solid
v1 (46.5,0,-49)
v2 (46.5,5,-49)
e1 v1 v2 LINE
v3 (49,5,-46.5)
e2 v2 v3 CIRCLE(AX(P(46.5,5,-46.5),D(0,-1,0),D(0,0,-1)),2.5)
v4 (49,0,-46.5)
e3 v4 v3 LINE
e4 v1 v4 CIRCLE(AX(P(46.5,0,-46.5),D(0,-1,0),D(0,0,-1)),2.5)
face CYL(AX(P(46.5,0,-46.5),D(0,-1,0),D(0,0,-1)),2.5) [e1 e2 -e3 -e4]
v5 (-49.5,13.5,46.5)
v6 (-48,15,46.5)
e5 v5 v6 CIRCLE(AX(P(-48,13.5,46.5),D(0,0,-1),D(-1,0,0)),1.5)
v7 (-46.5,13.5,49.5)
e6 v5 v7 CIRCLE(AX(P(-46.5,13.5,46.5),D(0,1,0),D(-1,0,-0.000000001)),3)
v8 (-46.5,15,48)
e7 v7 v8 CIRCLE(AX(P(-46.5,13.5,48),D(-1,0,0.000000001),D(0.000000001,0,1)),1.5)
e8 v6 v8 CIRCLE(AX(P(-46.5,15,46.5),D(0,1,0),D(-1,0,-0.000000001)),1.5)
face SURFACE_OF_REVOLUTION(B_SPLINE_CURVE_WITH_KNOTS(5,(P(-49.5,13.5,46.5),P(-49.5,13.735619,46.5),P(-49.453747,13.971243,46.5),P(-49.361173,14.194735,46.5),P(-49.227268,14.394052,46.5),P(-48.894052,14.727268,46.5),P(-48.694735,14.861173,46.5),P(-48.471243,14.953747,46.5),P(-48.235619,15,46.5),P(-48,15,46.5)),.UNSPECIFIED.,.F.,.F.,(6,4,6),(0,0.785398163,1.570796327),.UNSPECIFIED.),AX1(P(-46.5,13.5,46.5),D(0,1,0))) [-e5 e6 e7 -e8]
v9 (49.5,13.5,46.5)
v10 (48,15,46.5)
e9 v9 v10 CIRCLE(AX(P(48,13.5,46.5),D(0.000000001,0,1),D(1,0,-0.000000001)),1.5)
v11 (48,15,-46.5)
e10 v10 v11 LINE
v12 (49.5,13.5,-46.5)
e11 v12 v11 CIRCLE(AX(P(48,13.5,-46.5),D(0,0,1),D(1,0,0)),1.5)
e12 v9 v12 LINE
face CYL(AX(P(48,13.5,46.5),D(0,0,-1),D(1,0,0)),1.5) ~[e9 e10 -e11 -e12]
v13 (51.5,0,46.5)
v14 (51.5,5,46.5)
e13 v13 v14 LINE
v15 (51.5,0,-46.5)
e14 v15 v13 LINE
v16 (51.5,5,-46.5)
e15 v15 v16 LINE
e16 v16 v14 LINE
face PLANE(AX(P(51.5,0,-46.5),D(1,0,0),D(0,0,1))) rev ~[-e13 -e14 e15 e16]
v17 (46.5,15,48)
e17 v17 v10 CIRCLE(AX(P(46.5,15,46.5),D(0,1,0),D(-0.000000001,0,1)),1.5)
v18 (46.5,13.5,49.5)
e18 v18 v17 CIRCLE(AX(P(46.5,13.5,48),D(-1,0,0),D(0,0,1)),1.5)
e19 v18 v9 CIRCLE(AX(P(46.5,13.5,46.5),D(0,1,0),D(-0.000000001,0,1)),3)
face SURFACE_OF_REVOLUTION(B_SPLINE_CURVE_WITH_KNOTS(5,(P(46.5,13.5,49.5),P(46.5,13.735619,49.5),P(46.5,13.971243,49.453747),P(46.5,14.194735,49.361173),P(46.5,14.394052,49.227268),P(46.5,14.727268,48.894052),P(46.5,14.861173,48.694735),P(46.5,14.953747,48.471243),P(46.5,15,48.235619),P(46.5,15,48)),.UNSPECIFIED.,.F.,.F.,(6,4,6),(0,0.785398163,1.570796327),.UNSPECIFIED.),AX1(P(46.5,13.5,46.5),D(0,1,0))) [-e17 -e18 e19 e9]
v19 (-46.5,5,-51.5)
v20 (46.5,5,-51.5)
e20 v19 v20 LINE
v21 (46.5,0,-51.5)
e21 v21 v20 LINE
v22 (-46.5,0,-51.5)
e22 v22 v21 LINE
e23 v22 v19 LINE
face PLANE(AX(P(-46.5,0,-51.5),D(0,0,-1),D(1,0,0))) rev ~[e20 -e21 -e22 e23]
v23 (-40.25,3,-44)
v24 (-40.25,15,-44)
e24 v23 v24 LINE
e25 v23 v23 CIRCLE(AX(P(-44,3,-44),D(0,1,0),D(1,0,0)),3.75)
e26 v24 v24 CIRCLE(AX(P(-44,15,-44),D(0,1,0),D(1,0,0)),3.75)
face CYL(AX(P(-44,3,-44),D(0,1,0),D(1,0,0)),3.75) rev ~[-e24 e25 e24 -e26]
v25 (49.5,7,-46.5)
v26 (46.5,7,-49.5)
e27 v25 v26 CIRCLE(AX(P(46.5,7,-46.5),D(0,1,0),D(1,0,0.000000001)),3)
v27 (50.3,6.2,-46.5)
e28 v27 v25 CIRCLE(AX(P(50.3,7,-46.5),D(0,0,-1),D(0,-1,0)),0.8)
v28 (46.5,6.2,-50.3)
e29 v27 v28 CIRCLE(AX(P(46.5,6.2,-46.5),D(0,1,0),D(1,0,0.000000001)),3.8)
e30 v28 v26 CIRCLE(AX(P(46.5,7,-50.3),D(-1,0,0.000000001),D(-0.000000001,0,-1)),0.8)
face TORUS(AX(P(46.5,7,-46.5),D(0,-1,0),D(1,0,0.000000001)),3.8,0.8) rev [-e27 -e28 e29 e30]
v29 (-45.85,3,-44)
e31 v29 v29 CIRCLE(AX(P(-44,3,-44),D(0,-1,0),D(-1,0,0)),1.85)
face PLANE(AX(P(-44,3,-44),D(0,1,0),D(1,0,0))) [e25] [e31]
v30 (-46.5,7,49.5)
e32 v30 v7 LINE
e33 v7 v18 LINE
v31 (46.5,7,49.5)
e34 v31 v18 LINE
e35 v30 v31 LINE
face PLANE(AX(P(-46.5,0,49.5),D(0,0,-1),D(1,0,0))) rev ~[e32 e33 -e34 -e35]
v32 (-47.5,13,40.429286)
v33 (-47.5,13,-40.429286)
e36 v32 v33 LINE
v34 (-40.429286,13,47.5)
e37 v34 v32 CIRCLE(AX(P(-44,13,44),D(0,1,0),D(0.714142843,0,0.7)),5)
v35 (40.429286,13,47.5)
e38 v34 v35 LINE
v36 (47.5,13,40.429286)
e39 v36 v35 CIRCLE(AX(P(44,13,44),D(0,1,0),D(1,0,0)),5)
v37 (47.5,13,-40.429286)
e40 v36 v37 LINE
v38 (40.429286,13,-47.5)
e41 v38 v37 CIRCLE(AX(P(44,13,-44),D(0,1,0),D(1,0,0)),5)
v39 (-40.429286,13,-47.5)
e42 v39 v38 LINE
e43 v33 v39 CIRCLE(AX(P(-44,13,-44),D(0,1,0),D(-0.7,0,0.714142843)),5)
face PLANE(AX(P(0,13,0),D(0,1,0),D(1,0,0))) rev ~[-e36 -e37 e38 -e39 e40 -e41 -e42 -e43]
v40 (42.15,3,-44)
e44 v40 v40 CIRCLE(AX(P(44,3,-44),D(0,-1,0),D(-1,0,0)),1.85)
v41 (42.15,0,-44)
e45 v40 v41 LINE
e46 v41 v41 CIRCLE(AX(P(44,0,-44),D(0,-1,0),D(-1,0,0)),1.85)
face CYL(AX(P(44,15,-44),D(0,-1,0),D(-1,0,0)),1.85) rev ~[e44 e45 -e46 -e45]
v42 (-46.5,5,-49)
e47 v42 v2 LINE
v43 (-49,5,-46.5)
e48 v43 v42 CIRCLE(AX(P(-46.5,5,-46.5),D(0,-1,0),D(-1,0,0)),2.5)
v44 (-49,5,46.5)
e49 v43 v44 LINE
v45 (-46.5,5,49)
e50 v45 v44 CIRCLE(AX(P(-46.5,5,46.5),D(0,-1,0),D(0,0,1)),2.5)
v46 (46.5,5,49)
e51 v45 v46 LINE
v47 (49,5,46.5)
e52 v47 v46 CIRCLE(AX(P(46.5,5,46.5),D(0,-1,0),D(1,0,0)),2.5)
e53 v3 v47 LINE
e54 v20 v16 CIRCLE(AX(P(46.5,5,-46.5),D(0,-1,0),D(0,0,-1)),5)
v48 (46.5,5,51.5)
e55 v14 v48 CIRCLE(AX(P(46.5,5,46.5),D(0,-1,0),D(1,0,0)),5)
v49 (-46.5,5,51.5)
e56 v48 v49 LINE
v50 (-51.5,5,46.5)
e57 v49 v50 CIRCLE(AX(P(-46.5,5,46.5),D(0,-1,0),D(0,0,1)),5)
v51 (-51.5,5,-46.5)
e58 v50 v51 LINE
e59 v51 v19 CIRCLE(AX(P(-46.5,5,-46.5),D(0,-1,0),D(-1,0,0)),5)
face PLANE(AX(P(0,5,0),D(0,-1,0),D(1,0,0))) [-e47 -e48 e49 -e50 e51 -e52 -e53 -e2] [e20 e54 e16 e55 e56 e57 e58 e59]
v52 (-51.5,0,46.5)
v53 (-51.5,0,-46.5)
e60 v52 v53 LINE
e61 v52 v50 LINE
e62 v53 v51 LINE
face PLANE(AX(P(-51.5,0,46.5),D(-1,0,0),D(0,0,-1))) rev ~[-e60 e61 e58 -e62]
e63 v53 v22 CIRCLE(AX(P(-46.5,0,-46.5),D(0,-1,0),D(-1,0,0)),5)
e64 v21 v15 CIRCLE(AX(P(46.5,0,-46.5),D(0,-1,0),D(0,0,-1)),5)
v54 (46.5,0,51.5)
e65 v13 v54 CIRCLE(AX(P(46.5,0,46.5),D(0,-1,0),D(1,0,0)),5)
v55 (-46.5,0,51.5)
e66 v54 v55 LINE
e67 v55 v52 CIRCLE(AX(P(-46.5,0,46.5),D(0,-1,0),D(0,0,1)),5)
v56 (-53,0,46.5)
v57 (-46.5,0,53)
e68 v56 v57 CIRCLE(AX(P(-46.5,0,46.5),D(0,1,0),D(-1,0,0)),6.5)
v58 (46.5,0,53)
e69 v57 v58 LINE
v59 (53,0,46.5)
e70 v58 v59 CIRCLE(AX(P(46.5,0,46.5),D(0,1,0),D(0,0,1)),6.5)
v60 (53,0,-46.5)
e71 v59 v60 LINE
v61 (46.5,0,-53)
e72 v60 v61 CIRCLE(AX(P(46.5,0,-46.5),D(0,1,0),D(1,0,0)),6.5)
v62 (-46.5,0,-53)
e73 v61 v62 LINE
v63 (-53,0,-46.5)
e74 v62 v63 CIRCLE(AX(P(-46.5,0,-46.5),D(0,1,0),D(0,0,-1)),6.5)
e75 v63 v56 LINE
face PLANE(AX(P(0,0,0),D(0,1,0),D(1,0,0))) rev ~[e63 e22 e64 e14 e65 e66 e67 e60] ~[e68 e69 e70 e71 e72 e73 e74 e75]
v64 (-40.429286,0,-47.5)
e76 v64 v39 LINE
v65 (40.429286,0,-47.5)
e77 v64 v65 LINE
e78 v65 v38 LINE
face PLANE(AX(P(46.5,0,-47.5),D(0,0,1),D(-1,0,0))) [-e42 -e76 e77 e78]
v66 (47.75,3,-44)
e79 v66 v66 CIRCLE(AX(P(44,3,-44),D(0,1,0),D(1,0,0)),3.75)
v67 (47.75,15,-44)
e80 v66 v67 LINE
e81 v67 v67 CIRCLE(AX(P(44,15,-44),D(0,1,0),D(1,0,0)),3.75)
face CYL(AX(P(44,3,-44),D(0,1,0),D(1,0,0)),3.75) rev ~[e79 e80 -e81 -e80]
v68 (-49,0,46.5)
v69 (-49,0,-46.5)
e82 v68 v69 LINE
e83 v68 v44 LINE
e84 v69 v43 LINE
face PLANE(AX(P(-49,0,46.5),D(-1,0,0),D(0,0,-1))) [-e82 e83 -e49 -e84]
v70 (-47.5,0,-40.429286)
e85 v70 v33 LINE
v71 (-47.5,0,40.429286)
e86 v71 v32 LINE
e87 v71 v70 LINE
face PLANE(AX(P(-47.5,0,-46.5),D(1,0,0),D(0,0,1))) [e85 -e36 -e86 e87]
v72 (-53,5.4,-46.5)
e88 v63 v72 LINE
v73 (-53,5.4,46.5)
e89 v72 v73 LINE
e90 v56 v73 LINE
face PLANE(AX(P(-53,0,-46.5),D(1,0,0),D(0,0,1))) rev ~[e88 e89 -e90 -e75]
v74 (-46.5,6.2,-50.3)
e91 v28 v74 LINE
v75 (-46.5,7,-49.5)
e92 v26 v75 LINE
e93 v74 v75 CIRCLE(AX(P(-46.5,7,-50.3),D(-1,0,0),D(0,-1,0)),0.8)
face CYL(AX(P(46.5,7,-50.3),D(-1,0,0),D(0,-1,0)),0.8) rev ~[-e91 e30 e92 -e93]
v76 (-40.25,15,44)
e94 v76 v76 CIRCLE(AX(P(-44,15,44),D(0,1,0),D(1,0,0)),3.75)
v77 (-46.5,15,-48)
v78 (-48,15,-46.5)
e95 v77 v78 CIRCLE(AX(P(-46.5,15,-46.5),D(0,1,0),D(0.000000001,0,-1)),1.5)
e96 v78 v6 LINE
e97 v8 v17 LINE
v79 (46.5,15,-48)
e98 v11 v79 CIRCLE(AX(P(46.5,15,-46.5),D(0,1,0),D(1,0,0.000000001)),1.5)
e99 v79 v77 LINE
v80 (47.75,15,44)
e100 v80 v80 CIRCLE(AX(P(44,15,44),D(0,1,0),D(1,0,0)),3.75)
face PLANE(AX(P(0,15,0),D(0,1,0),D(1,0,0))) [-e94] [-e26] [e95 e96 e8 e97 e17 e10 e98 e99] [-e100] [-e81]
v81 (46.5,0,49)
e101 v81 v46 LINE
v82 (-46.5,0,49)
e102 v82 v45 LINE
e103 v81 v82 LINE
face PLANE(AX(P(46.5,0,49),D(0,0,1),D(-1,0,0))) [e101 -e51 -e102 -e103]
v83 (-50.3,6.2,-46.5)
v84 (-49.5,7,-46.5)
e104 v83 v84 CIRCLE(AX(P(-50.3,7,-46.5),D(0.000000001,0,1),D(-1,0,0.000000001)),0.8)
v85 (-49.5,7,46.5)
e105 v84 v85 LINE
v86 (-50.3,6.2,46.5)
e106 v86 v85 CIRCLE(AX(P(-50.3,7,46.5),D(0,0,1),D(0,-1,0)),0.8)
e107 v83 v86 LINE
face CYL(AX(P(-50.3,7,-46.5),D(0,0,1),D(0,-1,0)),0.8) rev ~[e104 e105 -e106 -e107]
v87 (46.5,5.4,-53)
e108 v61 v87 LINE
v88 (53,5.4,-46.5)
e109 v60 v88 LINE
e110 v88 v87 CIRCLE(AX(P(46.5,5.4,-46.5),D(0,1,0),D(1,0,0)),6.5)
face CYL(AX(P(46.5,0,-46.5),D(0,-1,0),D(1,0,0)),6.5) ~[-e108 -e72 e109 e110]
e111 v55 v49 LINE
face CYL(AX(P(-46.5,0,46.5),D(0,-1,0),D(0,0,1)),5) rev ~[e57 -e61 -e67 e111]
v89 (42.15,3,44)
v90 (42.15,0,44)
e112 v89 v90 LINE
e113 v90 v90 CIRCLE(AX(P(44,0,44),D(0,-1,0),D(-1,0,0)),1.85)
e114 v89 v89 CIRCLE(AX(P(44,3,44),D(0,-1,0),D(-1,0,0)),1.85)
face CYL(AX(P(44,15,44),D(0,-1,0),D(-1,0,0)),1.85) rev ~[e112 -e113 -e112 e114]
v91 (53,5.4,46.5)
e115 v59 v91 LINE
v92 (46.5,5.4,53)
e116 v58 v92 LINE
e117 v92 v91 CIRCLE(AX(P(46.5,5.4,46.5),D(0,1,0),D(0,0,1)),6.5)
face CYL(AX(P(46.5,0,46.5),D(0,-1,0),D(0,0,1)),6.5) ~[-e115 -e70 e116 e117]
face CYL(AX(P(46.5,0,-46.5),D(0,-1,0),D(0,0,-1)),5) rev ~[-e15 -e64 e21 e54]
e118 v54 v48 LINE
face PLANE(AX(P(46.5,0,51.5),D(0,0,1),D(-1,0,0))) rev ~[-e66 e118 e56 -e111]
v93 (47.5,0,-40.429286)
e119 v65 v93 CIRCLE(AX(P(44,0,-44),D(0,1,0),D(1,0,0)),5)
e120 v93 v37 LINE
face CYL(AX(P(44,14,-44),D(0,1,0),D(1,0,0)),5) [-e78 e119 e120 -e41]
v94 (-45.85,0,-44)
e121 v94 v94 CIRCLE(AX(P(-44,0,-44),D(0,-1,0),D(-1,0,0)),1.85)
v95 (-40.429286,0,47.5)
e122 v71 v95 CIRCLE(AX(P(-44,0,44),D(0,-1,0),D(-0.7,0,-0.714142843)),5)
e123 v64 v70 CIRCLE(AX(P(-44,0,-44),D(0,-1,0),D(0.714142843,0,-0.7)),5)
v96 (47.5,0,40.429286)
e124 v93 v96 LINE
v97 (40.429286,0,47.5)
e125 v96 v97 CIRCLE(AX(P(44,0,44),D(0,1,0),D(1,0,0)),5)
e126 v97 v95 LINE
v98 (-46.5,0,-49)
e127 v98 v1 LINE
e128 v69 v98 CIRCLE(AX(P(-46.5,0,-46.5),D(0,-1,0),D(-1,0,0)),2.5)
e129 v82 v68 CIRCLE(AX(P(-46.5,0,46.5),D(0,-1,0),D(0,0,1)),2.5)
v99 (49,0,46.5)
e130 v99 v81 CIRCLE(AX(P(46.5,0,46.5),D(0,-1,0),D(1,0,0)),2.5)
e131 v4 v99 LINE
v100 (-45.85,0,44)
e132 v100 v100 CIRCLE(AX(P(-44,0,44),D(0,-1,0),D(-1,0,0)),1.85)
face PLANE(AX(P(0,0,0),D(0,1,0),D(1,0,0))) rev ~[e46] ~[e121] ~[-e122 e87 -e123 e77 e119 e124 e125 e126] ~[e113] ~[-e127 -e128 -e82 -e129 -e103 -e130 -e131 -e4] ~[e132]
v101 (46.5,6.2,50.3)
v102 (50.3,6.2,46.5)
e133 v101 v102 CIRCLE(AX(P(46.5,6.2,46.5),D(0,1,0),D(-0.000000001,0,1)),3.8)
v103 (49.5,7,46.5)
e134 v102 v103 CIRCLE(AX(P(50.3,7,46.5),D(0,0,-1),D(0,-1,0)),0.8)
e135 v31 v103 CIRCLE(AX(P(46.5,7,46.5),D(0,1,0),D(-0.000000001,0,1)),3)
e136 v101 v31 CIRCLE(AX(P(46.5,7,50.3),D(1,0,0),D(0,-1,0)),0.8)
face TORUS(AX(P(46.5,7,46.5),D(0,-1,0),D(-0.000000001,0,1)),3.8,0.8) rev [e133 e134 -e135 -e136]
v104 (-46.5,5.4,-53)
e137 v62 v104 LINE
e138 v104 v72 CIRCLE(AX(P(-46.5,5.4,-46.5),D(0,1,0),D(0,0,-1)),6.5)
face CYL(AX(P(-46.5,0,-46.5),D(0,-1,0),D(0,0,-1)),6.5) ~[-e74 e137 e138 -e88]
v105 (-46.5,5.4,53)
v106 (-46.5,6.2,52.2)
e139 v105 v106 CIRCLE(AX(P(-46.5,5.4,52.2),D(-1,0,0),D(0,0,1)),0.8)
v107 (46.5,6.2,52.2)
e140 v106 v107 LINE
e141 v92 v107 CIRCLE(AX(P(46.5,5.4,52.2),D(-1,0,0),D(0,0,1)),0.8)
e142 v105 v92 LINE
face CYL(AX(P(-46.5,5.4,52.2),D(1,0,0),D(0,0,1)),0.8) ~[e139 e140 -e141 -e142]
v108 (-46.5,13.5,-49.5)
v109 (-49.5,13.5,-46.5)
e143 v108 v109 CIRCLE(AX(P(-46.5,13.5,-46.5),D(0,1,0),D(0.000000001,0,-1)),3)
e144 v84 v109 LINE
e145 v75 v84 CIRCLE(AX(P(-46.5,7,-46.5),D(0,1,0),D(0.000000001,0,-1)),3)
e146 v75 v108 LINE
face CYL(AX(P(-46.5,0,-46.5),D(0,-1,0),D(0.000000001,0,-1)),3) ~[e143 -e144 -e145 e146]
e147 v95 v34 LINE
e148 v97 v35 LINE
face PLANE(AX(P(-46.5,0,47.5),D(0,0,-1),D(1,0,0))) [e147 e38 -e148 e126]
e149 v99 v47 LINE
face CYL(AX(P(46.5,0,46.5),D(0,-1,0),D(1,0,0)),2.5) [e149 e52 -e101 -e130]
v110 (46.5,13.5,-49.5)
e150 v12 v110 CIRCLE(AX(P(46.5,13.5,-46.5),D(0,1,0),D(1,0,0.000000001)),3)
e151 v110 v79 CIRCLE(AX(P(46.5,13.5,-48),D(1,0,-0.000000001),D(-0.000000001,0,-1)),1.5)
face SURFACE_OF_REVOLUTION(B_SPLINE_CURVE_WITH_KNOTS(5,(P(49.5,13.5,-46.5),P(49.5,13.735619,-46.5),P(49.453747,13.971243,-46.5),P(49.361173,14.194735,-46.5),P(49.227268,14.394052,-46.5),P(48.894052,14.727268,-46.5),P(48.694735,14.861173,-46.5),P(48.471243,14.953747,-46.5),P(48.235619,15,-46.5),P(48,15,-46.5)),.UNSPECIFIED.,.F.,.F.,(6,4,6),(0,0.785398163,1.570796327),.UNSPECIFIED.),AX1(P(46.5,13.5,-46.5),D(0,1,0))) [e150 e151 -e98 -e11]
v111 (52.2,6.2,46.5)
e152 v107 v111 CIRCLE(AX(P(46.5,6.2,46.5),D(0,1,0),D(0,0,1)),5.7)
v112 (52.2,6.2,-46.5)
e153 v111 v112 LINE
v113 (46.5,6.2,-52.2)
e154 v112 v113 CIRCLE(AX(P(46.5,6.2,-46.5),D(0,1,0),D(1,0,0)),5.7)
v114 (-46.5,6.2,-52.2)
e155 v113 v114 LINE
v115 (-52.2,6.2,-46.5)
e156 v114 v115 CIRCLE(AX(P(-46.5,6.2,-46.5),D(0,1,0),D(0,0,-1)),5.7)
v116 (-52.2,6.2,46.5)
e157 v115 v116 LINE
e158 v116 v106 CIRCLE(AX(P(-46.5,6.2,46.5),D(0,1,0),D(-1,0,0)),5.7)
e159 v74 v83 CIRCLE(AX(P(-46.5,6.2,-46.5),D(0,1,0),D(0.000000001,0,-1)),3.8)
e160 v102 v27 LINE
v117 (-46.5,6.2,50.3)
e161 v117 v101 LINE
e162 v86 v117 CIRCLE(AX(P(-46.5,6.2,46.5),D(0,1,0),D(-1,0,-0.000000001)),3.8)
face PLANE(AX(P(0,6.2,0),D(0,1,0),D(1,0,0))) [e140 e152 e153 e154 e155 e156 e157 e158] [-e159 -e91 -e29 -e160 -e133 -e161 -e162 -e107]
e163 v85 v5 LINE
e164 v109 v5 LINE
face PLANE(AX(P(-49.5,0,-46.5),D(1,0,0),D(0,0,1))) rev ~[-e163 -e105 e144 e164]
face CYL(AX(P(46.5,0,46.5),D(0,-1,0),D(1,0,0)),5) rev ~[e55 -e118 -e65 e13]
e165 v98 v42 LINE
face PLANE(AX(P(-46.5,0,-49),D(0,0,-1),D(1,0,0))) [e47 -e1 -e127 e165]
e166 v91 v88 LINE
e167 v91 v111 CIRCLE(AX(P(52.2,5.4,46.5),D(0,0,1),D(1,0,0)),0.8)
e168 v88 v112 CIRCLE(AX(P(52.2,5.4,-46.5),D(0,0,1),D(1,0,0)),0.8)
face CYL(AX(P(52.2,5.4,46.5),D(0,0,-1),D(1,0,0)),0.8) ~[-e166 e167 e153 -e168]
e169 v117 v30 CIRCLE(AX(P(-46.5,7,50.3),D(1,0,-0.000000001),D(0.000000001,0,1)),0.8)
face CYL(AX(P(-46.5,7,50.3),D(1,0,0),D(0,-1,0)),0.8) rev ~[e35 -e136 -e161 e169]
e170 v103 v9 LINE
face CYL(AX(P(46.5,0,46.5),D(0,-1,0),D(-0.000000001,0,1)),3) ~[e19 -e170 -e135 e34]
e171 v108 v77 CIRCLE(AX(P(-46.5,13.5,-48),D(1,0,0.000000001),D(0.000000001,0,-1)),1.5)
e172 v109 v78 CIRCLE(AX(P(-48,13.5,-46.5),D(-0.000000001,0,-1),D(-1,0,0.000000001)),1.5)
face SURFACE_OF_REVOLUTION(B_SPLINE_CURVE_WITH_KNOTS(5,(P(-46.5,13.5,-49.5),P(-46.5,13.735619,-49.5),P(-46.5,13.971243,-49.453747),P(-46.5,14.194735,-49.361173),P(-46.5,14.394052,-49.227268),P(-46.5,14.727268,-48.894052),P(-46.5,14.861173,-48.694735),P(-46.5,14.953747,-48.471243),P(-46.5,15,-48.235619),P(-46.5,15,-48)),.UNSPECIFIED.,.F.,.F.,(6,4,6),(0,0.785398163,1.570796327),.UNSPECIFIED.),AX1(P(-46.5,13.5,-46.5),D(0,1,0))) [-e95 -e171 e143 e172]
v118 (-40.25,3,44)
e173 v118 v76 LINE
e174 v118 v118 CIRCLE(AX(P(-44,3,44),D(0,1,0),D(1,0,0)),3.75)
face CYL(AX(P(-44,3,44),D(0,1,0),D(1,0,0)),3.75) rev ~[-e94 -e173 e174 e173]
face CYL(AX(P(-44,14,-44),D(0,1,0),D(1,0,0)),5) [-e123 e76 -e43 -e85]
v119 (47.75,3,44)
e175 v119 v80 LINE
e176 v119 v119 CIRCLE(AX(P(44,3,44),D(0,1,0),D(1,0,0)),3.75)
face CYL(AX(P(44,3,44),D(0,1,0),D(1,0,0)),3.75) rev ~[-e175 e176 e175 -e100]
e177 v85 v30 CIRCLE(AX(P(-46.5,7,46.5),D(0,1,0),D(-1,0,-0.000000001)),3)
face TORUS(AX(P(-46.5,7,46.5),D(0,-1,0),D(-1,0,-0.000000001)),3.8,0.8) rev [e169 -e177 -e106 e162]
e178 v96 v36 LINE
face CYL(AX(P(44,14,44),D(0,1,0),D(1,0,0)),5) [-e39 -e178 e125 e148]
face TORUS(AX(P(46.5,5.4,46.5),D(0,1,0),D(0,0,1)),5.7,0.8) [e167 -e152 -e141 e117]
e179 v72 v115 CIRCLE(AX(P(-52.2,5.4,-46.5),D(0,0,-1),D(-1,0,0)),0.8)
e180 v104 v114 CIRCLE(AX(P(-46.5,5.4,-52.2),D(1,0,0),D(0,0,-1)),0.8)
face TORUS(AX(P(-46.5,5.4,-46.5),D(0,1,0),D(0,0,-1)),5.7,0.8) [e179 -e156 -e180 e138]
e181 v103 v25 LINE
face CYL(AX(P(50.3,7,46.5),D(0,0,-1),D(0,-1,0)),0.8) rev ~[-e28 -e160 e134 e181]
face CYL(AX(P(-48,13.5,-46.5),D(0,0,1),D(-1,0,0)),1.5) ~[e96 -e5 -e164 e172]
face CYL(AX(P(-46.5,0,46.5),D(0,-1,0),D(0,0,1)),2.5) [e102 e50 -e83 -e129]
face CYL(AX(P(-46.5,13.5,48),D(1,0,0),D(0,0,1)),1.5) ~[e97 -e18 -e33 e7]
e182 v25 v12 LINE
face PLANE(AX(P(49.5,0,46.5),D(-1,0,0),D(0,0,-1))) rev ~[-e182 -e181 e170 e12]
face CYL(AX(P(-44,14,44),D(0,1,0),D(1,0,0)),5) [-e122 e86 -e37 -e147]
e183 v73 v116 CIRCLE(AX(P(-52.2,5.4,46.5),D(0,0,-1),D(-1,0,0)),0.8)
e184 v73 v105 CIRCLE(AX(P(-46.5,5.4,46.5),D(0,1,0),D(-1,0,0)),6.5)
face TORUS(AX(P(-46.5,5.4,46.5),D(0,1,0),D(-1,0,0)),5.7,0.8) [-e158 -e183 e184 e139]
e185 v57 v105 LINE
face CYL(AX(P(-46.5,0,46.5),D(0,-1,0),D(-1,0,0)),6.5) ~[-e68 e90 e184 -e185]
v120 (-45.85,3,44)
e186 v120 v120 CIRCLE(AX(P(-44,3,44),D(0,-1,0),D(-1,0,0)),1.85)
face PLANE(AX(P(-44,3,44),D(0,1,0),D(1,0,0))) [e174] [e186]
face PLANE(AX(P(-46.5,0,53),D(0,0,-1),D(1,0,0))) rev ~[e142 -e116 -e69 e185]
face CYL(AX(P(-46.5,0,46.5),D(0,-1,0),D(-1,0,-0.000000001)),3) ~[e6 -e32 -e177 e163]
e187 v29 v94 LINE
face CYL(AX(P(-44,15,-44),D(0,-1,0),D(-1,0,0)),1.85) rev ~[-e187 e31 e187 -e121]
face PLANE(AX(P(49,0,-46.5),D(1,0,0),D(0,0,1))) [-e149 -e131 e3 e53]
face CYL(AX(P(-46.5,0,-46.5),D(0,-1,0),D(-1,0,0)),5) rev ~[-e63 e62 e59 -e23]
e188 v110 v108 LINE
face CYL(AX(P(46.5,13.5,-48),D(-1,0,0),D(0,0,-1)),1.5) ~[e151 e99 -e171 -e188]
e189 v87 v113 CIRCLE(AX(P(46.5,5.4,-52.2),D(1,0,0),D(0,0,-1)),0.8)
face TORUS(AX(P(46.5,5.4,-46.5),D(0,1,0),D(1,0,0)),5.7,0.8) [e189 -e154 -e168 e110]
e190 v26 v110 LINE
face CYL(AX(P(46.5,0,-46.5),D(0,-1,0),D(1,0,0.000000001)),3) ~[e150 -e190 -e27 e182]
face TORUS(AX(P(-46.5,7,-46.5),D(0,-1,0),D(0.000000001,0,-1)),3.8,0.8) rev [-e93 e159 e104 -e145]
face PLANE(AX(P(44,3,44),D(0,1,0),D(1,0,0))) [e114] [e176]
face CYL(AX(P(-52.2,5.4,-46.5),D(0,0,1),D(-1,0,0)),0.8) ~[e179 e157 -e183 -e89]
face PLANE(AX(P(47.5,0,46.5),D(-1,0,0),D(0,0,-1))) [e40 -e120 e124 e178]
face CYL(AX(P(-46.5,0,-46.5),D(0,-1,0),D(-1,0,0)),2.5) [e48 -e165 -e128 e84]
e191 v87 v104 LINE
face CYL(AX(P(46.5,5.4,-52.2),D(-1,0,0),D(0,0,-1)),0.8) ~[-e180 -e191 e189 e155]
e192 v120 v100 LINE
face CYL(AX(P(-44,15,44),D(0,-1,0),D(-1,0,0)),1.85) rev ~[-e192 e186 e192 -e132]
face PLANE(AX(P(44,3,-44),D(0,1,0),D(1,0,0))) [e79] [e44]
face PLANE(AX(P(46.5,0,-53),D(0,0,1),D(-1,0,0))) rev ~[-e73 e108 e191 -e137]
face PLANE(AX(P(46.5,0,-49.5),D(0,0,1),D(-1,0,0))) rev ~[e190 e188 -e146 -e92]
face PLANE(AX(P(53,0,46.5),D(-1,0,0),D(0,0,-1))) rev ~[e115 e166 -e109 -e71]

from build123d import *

# Parameters (mm, degrees)
BOSS_EXTRUDE1_DEPTH                     = 15
FILLET1_R                               = 1.5
SHELL1_T                                = -2
BOSS_EXTRUDE2_DEPTH                     = 6.2
CUT_EXTRUDE1_DEPTH                      = 5
FILLET2_R                               = 0.8
BOSS_EXTRUDE4_START                     = -1
SKETCH4_R                               = 5
BOSS_EXTRUDE4_DEPTH                     = 14
CBORE_FOR_M5_HEX_HEAD_BOLT1_D           = 3.7
CBORE_FOR_M5_HEX_HEAD_BOLT1_CBORE_D     = 7.5
CBORE_FOR_M5_HEX_HEAD_BOLT1_CBORE_DEPTH = 12


with BuildPart() as part:
    # Sketch1 → Boss-Extrude1 (new body)
    with BuildSketch(Plane(origin=(0, 0, 0), x_dir=(1, 0, 0), z_dir=(0, 1, 0))):
        with BuildLine():
            Line((49.5, -46.5), (49.5, 46.5))
            ThreePointArc((49.5, 46.5), (48.621320344, 48.621320344), (46.5, 49.5))
            Line((46.5, 49.5), (-46.5, 49.5))
            ThreePointArc((-46.5, 49.5), (-48.621320344, 48.621320344), (-49.5, 46.5))
            Line((-49.5, 46.5), (-49.5, -46.5))
            ThreePointArc((-49.5, -46.5), (-48.621320344, -48.621320344), (-46.5, -49.5))
            Line((-46.5, -49.5), (46.5, -49.5))
            ThreePointArc((46.5, -49.5), (48.621320344, -48.621320344), (49.5, -46.5))
        make_face()
    extrude(amount=BOSS_EXTRUDE1_DEPTH)

    # Fillet1
    fillet1_edges = [part.edges().sort_by_distance(p)[0] for p in [
        (-48.621320344, 15, -48.621320344),
        (-49.5, 15, 0),
        (-48.621320344, 15, 48.621320344),
        (0, 15, 49.5),
        (48.621320344, 15, 48.621320344),
        (49.5, 15, 0),
        (48.621320344, 15, -48.621320344),
        (0, 15, -49.5),
    ]]
    fillet(fillet1_edges, radius=FILLET1_R)

    # Shell1
    shell1_openings = [part.faces().sort_by_distance(p)[0] for p in [
        (0, 0, 0),
    ]]
    offset(amount=SHELL1_T, openings=shell1_openings, kind=Kind.INTERSECTION)

    # Sketch2 → Boss-Extrude2 (add)
    with BuildSketch(Plane(origin=(0, 0, 0), x_dir=(1, 0, 0), z_dir=(0, 1, 0))):
        with BuildLine():
            Line((-53, 46.5), (-53, -46.5))
            ThreePointArc((-53, -46.5), (-51.096194078, -51.096194078), (-46.5, -53))
            Line((-46.5, -53), (46.5, -53))
            ThreePointArc((46.5, -53), (51.096194078, -51.096194078), (53, -46.5))
            Line((53, -46.5), (53, 46.5))
            ThreePointArc((53, 46.5), (51.096194078, 51.096194078), (46.5, 53))
            Line((46.5, 53), (-46.5, 53))
            ThreePointArc((-46.5, 53), (-51.096194078, 51.096194078), (-53, 46.5))
        make_face()
        with BuildLine():
            Line((47.5, -46.5), (47.5, 46.5))
            ThreePointArc((47.5, 46.5), (47.207106781, 47.207106781), (46.5, 47.5))
            Line((46.5, 47.5), (-46.5, 47.5))
            ThreePointArc((-46.5, 47.5), (-47.207106781, 47.207106781), (-47.5, 46.5))
            Line((-47.5, 46.5), (-47.5, -46.5))
            ThreePointArc((-47.5, -46.5), (-47.207106781, -47.207106781), (-46.5, -47.5))
            Line((-46.5, -47.5), (46.5, -47.5))
            ThreePointArc((46.5, -47.5), (47.207106781, -47.207106781), (47.5, -46.5))
        make_face(mode=Mode.SUBTRACT)
    extrude(amount=BOSS_EXTRUDE2_DEPTH)

    # Sketch3 → Cut-Extrude1 (cut)
    with BuildSketch(Plane.XZ):
        with BuildLine():
            Line((-46.5, -51.5), (46.5, -51.5))
            ThreePointArc((46.5, -51.5), (50.035533906, -50.035533906), (51.5, -46.5))
            Line((51.5, -46.5), (51.5, 46.5))
            ThreePointArc((51.5, 46.5), (50.035533906, 50.035533906), (46.5, 51.5))
            Line((46.5, 51.5), (-46.5, 51.5))
            ThreePointArc((-46.5, 51.5), (-50.035533906, 50.035533906), (-51.5, 46.5))
            Line((-51.5, 46.5), (-51.5, -46.5))
            ThreePointArc((-51.5, -46.5), (-50.035533906, -50.035533906), (-46.5, -51.5))
        make_face()
        with BuildLine():
            Line((49, -46.5), (49, 46.5))
            ThreePointArc((49, 46.5), (48.267766953, 48.267766953), (46.5, 49))
            Line((46.5, 49), (-46.5, 49))
            ThreePointArc((-46.5, 49), (-48.267766953, 48.267766953), (-49, 46.5))
            Line((-49, 46.5), (-49, -46.5))
            ThreePointArc((-49, -46.5), (-48.267766953, -48.267766953), (-46.5, -49))
            Line((-46.5, -49), (46.5, -49))
            ThreePointArc((46.5, -49), (48.267766953, -48.267766953), (49, -46.5))
        make_face(mode=Mode.SUBTRACT)
    extrude(amount=-CUT_EXTRUDE1_DEPTH, mode=Mode.SUBTRACT)

    # Fillet2
    fillet2_edges = [part.edges().sort_by_distance(p)[0] for p in [
        (-51.096194078, 6.2, -51.096194078),
        (-53, 6.2, 0),
        (-51.096194078, 6.2, 51.096194078),
        (0, 6.2, 53),
        (51.096194078, 6.2, 51.096194078),
        (53, 6.2, 0),
        (51.096194078, 6.2, -51.096194078),
        (0, 6.2, -53),
        (49.5, 6.2, 0),
        (48.621320344, 6.2, -48.621320344),
        (0, 6.2, -49.5),
        (-48.621320344, 6.2, -48.621320344),
        (-49.5, 6.2, 0),
        (-48.621320344, 6.2, 48.621320344),
        (0, 6.2, 49.5),
        (48.621320344, 6.2, 48.621320344),
    ]]
    fillet(fillet2_edges, radius=FILLET2_R)

    # Sketch4 → Boss-Extrude4 (add)
    with BuildSketch(Plane(origin=(0, 15, 0), x_dir=(1, 0, 0), z_dir=(0, 1, 0)).offset(BOSS_EXTRUDE4_START)):
        with Locations((44, 44)):
            Circle(SKETCH4_R)
        with Locations((44, -44)):
            Circle(SKETCH4_R)
        with Locations((-44, 44)):
            Circle(SKETCH4_R)
        with Locations((-44, -44)):
            Circle(SKETCH4_R)
    extrude(amount=-BOSS_EXTRUDE4_DEPTH)

    # CBORE for M5 Hex Head Bolt1 (through all)
    with Locations(Plane(origin=(0, 15, 0), x_dir=(1, 0, 0), z_dir=(0, 1, 0))):
        with Locations((-44, -44), (44, -44), (-44, 44), (44, 44)):
            CounterBoreHole(CBORE_FOR_M5_HEX_HEAD_BOLT1_D / 2, CBORE_FOR_M5_HEX_HEAD_BOLT1_CBORE_D / 2, CBORE_FOR_M5_HEX_HEAD_BOLT1_CBORE_DEPTH)


solid = part.part
